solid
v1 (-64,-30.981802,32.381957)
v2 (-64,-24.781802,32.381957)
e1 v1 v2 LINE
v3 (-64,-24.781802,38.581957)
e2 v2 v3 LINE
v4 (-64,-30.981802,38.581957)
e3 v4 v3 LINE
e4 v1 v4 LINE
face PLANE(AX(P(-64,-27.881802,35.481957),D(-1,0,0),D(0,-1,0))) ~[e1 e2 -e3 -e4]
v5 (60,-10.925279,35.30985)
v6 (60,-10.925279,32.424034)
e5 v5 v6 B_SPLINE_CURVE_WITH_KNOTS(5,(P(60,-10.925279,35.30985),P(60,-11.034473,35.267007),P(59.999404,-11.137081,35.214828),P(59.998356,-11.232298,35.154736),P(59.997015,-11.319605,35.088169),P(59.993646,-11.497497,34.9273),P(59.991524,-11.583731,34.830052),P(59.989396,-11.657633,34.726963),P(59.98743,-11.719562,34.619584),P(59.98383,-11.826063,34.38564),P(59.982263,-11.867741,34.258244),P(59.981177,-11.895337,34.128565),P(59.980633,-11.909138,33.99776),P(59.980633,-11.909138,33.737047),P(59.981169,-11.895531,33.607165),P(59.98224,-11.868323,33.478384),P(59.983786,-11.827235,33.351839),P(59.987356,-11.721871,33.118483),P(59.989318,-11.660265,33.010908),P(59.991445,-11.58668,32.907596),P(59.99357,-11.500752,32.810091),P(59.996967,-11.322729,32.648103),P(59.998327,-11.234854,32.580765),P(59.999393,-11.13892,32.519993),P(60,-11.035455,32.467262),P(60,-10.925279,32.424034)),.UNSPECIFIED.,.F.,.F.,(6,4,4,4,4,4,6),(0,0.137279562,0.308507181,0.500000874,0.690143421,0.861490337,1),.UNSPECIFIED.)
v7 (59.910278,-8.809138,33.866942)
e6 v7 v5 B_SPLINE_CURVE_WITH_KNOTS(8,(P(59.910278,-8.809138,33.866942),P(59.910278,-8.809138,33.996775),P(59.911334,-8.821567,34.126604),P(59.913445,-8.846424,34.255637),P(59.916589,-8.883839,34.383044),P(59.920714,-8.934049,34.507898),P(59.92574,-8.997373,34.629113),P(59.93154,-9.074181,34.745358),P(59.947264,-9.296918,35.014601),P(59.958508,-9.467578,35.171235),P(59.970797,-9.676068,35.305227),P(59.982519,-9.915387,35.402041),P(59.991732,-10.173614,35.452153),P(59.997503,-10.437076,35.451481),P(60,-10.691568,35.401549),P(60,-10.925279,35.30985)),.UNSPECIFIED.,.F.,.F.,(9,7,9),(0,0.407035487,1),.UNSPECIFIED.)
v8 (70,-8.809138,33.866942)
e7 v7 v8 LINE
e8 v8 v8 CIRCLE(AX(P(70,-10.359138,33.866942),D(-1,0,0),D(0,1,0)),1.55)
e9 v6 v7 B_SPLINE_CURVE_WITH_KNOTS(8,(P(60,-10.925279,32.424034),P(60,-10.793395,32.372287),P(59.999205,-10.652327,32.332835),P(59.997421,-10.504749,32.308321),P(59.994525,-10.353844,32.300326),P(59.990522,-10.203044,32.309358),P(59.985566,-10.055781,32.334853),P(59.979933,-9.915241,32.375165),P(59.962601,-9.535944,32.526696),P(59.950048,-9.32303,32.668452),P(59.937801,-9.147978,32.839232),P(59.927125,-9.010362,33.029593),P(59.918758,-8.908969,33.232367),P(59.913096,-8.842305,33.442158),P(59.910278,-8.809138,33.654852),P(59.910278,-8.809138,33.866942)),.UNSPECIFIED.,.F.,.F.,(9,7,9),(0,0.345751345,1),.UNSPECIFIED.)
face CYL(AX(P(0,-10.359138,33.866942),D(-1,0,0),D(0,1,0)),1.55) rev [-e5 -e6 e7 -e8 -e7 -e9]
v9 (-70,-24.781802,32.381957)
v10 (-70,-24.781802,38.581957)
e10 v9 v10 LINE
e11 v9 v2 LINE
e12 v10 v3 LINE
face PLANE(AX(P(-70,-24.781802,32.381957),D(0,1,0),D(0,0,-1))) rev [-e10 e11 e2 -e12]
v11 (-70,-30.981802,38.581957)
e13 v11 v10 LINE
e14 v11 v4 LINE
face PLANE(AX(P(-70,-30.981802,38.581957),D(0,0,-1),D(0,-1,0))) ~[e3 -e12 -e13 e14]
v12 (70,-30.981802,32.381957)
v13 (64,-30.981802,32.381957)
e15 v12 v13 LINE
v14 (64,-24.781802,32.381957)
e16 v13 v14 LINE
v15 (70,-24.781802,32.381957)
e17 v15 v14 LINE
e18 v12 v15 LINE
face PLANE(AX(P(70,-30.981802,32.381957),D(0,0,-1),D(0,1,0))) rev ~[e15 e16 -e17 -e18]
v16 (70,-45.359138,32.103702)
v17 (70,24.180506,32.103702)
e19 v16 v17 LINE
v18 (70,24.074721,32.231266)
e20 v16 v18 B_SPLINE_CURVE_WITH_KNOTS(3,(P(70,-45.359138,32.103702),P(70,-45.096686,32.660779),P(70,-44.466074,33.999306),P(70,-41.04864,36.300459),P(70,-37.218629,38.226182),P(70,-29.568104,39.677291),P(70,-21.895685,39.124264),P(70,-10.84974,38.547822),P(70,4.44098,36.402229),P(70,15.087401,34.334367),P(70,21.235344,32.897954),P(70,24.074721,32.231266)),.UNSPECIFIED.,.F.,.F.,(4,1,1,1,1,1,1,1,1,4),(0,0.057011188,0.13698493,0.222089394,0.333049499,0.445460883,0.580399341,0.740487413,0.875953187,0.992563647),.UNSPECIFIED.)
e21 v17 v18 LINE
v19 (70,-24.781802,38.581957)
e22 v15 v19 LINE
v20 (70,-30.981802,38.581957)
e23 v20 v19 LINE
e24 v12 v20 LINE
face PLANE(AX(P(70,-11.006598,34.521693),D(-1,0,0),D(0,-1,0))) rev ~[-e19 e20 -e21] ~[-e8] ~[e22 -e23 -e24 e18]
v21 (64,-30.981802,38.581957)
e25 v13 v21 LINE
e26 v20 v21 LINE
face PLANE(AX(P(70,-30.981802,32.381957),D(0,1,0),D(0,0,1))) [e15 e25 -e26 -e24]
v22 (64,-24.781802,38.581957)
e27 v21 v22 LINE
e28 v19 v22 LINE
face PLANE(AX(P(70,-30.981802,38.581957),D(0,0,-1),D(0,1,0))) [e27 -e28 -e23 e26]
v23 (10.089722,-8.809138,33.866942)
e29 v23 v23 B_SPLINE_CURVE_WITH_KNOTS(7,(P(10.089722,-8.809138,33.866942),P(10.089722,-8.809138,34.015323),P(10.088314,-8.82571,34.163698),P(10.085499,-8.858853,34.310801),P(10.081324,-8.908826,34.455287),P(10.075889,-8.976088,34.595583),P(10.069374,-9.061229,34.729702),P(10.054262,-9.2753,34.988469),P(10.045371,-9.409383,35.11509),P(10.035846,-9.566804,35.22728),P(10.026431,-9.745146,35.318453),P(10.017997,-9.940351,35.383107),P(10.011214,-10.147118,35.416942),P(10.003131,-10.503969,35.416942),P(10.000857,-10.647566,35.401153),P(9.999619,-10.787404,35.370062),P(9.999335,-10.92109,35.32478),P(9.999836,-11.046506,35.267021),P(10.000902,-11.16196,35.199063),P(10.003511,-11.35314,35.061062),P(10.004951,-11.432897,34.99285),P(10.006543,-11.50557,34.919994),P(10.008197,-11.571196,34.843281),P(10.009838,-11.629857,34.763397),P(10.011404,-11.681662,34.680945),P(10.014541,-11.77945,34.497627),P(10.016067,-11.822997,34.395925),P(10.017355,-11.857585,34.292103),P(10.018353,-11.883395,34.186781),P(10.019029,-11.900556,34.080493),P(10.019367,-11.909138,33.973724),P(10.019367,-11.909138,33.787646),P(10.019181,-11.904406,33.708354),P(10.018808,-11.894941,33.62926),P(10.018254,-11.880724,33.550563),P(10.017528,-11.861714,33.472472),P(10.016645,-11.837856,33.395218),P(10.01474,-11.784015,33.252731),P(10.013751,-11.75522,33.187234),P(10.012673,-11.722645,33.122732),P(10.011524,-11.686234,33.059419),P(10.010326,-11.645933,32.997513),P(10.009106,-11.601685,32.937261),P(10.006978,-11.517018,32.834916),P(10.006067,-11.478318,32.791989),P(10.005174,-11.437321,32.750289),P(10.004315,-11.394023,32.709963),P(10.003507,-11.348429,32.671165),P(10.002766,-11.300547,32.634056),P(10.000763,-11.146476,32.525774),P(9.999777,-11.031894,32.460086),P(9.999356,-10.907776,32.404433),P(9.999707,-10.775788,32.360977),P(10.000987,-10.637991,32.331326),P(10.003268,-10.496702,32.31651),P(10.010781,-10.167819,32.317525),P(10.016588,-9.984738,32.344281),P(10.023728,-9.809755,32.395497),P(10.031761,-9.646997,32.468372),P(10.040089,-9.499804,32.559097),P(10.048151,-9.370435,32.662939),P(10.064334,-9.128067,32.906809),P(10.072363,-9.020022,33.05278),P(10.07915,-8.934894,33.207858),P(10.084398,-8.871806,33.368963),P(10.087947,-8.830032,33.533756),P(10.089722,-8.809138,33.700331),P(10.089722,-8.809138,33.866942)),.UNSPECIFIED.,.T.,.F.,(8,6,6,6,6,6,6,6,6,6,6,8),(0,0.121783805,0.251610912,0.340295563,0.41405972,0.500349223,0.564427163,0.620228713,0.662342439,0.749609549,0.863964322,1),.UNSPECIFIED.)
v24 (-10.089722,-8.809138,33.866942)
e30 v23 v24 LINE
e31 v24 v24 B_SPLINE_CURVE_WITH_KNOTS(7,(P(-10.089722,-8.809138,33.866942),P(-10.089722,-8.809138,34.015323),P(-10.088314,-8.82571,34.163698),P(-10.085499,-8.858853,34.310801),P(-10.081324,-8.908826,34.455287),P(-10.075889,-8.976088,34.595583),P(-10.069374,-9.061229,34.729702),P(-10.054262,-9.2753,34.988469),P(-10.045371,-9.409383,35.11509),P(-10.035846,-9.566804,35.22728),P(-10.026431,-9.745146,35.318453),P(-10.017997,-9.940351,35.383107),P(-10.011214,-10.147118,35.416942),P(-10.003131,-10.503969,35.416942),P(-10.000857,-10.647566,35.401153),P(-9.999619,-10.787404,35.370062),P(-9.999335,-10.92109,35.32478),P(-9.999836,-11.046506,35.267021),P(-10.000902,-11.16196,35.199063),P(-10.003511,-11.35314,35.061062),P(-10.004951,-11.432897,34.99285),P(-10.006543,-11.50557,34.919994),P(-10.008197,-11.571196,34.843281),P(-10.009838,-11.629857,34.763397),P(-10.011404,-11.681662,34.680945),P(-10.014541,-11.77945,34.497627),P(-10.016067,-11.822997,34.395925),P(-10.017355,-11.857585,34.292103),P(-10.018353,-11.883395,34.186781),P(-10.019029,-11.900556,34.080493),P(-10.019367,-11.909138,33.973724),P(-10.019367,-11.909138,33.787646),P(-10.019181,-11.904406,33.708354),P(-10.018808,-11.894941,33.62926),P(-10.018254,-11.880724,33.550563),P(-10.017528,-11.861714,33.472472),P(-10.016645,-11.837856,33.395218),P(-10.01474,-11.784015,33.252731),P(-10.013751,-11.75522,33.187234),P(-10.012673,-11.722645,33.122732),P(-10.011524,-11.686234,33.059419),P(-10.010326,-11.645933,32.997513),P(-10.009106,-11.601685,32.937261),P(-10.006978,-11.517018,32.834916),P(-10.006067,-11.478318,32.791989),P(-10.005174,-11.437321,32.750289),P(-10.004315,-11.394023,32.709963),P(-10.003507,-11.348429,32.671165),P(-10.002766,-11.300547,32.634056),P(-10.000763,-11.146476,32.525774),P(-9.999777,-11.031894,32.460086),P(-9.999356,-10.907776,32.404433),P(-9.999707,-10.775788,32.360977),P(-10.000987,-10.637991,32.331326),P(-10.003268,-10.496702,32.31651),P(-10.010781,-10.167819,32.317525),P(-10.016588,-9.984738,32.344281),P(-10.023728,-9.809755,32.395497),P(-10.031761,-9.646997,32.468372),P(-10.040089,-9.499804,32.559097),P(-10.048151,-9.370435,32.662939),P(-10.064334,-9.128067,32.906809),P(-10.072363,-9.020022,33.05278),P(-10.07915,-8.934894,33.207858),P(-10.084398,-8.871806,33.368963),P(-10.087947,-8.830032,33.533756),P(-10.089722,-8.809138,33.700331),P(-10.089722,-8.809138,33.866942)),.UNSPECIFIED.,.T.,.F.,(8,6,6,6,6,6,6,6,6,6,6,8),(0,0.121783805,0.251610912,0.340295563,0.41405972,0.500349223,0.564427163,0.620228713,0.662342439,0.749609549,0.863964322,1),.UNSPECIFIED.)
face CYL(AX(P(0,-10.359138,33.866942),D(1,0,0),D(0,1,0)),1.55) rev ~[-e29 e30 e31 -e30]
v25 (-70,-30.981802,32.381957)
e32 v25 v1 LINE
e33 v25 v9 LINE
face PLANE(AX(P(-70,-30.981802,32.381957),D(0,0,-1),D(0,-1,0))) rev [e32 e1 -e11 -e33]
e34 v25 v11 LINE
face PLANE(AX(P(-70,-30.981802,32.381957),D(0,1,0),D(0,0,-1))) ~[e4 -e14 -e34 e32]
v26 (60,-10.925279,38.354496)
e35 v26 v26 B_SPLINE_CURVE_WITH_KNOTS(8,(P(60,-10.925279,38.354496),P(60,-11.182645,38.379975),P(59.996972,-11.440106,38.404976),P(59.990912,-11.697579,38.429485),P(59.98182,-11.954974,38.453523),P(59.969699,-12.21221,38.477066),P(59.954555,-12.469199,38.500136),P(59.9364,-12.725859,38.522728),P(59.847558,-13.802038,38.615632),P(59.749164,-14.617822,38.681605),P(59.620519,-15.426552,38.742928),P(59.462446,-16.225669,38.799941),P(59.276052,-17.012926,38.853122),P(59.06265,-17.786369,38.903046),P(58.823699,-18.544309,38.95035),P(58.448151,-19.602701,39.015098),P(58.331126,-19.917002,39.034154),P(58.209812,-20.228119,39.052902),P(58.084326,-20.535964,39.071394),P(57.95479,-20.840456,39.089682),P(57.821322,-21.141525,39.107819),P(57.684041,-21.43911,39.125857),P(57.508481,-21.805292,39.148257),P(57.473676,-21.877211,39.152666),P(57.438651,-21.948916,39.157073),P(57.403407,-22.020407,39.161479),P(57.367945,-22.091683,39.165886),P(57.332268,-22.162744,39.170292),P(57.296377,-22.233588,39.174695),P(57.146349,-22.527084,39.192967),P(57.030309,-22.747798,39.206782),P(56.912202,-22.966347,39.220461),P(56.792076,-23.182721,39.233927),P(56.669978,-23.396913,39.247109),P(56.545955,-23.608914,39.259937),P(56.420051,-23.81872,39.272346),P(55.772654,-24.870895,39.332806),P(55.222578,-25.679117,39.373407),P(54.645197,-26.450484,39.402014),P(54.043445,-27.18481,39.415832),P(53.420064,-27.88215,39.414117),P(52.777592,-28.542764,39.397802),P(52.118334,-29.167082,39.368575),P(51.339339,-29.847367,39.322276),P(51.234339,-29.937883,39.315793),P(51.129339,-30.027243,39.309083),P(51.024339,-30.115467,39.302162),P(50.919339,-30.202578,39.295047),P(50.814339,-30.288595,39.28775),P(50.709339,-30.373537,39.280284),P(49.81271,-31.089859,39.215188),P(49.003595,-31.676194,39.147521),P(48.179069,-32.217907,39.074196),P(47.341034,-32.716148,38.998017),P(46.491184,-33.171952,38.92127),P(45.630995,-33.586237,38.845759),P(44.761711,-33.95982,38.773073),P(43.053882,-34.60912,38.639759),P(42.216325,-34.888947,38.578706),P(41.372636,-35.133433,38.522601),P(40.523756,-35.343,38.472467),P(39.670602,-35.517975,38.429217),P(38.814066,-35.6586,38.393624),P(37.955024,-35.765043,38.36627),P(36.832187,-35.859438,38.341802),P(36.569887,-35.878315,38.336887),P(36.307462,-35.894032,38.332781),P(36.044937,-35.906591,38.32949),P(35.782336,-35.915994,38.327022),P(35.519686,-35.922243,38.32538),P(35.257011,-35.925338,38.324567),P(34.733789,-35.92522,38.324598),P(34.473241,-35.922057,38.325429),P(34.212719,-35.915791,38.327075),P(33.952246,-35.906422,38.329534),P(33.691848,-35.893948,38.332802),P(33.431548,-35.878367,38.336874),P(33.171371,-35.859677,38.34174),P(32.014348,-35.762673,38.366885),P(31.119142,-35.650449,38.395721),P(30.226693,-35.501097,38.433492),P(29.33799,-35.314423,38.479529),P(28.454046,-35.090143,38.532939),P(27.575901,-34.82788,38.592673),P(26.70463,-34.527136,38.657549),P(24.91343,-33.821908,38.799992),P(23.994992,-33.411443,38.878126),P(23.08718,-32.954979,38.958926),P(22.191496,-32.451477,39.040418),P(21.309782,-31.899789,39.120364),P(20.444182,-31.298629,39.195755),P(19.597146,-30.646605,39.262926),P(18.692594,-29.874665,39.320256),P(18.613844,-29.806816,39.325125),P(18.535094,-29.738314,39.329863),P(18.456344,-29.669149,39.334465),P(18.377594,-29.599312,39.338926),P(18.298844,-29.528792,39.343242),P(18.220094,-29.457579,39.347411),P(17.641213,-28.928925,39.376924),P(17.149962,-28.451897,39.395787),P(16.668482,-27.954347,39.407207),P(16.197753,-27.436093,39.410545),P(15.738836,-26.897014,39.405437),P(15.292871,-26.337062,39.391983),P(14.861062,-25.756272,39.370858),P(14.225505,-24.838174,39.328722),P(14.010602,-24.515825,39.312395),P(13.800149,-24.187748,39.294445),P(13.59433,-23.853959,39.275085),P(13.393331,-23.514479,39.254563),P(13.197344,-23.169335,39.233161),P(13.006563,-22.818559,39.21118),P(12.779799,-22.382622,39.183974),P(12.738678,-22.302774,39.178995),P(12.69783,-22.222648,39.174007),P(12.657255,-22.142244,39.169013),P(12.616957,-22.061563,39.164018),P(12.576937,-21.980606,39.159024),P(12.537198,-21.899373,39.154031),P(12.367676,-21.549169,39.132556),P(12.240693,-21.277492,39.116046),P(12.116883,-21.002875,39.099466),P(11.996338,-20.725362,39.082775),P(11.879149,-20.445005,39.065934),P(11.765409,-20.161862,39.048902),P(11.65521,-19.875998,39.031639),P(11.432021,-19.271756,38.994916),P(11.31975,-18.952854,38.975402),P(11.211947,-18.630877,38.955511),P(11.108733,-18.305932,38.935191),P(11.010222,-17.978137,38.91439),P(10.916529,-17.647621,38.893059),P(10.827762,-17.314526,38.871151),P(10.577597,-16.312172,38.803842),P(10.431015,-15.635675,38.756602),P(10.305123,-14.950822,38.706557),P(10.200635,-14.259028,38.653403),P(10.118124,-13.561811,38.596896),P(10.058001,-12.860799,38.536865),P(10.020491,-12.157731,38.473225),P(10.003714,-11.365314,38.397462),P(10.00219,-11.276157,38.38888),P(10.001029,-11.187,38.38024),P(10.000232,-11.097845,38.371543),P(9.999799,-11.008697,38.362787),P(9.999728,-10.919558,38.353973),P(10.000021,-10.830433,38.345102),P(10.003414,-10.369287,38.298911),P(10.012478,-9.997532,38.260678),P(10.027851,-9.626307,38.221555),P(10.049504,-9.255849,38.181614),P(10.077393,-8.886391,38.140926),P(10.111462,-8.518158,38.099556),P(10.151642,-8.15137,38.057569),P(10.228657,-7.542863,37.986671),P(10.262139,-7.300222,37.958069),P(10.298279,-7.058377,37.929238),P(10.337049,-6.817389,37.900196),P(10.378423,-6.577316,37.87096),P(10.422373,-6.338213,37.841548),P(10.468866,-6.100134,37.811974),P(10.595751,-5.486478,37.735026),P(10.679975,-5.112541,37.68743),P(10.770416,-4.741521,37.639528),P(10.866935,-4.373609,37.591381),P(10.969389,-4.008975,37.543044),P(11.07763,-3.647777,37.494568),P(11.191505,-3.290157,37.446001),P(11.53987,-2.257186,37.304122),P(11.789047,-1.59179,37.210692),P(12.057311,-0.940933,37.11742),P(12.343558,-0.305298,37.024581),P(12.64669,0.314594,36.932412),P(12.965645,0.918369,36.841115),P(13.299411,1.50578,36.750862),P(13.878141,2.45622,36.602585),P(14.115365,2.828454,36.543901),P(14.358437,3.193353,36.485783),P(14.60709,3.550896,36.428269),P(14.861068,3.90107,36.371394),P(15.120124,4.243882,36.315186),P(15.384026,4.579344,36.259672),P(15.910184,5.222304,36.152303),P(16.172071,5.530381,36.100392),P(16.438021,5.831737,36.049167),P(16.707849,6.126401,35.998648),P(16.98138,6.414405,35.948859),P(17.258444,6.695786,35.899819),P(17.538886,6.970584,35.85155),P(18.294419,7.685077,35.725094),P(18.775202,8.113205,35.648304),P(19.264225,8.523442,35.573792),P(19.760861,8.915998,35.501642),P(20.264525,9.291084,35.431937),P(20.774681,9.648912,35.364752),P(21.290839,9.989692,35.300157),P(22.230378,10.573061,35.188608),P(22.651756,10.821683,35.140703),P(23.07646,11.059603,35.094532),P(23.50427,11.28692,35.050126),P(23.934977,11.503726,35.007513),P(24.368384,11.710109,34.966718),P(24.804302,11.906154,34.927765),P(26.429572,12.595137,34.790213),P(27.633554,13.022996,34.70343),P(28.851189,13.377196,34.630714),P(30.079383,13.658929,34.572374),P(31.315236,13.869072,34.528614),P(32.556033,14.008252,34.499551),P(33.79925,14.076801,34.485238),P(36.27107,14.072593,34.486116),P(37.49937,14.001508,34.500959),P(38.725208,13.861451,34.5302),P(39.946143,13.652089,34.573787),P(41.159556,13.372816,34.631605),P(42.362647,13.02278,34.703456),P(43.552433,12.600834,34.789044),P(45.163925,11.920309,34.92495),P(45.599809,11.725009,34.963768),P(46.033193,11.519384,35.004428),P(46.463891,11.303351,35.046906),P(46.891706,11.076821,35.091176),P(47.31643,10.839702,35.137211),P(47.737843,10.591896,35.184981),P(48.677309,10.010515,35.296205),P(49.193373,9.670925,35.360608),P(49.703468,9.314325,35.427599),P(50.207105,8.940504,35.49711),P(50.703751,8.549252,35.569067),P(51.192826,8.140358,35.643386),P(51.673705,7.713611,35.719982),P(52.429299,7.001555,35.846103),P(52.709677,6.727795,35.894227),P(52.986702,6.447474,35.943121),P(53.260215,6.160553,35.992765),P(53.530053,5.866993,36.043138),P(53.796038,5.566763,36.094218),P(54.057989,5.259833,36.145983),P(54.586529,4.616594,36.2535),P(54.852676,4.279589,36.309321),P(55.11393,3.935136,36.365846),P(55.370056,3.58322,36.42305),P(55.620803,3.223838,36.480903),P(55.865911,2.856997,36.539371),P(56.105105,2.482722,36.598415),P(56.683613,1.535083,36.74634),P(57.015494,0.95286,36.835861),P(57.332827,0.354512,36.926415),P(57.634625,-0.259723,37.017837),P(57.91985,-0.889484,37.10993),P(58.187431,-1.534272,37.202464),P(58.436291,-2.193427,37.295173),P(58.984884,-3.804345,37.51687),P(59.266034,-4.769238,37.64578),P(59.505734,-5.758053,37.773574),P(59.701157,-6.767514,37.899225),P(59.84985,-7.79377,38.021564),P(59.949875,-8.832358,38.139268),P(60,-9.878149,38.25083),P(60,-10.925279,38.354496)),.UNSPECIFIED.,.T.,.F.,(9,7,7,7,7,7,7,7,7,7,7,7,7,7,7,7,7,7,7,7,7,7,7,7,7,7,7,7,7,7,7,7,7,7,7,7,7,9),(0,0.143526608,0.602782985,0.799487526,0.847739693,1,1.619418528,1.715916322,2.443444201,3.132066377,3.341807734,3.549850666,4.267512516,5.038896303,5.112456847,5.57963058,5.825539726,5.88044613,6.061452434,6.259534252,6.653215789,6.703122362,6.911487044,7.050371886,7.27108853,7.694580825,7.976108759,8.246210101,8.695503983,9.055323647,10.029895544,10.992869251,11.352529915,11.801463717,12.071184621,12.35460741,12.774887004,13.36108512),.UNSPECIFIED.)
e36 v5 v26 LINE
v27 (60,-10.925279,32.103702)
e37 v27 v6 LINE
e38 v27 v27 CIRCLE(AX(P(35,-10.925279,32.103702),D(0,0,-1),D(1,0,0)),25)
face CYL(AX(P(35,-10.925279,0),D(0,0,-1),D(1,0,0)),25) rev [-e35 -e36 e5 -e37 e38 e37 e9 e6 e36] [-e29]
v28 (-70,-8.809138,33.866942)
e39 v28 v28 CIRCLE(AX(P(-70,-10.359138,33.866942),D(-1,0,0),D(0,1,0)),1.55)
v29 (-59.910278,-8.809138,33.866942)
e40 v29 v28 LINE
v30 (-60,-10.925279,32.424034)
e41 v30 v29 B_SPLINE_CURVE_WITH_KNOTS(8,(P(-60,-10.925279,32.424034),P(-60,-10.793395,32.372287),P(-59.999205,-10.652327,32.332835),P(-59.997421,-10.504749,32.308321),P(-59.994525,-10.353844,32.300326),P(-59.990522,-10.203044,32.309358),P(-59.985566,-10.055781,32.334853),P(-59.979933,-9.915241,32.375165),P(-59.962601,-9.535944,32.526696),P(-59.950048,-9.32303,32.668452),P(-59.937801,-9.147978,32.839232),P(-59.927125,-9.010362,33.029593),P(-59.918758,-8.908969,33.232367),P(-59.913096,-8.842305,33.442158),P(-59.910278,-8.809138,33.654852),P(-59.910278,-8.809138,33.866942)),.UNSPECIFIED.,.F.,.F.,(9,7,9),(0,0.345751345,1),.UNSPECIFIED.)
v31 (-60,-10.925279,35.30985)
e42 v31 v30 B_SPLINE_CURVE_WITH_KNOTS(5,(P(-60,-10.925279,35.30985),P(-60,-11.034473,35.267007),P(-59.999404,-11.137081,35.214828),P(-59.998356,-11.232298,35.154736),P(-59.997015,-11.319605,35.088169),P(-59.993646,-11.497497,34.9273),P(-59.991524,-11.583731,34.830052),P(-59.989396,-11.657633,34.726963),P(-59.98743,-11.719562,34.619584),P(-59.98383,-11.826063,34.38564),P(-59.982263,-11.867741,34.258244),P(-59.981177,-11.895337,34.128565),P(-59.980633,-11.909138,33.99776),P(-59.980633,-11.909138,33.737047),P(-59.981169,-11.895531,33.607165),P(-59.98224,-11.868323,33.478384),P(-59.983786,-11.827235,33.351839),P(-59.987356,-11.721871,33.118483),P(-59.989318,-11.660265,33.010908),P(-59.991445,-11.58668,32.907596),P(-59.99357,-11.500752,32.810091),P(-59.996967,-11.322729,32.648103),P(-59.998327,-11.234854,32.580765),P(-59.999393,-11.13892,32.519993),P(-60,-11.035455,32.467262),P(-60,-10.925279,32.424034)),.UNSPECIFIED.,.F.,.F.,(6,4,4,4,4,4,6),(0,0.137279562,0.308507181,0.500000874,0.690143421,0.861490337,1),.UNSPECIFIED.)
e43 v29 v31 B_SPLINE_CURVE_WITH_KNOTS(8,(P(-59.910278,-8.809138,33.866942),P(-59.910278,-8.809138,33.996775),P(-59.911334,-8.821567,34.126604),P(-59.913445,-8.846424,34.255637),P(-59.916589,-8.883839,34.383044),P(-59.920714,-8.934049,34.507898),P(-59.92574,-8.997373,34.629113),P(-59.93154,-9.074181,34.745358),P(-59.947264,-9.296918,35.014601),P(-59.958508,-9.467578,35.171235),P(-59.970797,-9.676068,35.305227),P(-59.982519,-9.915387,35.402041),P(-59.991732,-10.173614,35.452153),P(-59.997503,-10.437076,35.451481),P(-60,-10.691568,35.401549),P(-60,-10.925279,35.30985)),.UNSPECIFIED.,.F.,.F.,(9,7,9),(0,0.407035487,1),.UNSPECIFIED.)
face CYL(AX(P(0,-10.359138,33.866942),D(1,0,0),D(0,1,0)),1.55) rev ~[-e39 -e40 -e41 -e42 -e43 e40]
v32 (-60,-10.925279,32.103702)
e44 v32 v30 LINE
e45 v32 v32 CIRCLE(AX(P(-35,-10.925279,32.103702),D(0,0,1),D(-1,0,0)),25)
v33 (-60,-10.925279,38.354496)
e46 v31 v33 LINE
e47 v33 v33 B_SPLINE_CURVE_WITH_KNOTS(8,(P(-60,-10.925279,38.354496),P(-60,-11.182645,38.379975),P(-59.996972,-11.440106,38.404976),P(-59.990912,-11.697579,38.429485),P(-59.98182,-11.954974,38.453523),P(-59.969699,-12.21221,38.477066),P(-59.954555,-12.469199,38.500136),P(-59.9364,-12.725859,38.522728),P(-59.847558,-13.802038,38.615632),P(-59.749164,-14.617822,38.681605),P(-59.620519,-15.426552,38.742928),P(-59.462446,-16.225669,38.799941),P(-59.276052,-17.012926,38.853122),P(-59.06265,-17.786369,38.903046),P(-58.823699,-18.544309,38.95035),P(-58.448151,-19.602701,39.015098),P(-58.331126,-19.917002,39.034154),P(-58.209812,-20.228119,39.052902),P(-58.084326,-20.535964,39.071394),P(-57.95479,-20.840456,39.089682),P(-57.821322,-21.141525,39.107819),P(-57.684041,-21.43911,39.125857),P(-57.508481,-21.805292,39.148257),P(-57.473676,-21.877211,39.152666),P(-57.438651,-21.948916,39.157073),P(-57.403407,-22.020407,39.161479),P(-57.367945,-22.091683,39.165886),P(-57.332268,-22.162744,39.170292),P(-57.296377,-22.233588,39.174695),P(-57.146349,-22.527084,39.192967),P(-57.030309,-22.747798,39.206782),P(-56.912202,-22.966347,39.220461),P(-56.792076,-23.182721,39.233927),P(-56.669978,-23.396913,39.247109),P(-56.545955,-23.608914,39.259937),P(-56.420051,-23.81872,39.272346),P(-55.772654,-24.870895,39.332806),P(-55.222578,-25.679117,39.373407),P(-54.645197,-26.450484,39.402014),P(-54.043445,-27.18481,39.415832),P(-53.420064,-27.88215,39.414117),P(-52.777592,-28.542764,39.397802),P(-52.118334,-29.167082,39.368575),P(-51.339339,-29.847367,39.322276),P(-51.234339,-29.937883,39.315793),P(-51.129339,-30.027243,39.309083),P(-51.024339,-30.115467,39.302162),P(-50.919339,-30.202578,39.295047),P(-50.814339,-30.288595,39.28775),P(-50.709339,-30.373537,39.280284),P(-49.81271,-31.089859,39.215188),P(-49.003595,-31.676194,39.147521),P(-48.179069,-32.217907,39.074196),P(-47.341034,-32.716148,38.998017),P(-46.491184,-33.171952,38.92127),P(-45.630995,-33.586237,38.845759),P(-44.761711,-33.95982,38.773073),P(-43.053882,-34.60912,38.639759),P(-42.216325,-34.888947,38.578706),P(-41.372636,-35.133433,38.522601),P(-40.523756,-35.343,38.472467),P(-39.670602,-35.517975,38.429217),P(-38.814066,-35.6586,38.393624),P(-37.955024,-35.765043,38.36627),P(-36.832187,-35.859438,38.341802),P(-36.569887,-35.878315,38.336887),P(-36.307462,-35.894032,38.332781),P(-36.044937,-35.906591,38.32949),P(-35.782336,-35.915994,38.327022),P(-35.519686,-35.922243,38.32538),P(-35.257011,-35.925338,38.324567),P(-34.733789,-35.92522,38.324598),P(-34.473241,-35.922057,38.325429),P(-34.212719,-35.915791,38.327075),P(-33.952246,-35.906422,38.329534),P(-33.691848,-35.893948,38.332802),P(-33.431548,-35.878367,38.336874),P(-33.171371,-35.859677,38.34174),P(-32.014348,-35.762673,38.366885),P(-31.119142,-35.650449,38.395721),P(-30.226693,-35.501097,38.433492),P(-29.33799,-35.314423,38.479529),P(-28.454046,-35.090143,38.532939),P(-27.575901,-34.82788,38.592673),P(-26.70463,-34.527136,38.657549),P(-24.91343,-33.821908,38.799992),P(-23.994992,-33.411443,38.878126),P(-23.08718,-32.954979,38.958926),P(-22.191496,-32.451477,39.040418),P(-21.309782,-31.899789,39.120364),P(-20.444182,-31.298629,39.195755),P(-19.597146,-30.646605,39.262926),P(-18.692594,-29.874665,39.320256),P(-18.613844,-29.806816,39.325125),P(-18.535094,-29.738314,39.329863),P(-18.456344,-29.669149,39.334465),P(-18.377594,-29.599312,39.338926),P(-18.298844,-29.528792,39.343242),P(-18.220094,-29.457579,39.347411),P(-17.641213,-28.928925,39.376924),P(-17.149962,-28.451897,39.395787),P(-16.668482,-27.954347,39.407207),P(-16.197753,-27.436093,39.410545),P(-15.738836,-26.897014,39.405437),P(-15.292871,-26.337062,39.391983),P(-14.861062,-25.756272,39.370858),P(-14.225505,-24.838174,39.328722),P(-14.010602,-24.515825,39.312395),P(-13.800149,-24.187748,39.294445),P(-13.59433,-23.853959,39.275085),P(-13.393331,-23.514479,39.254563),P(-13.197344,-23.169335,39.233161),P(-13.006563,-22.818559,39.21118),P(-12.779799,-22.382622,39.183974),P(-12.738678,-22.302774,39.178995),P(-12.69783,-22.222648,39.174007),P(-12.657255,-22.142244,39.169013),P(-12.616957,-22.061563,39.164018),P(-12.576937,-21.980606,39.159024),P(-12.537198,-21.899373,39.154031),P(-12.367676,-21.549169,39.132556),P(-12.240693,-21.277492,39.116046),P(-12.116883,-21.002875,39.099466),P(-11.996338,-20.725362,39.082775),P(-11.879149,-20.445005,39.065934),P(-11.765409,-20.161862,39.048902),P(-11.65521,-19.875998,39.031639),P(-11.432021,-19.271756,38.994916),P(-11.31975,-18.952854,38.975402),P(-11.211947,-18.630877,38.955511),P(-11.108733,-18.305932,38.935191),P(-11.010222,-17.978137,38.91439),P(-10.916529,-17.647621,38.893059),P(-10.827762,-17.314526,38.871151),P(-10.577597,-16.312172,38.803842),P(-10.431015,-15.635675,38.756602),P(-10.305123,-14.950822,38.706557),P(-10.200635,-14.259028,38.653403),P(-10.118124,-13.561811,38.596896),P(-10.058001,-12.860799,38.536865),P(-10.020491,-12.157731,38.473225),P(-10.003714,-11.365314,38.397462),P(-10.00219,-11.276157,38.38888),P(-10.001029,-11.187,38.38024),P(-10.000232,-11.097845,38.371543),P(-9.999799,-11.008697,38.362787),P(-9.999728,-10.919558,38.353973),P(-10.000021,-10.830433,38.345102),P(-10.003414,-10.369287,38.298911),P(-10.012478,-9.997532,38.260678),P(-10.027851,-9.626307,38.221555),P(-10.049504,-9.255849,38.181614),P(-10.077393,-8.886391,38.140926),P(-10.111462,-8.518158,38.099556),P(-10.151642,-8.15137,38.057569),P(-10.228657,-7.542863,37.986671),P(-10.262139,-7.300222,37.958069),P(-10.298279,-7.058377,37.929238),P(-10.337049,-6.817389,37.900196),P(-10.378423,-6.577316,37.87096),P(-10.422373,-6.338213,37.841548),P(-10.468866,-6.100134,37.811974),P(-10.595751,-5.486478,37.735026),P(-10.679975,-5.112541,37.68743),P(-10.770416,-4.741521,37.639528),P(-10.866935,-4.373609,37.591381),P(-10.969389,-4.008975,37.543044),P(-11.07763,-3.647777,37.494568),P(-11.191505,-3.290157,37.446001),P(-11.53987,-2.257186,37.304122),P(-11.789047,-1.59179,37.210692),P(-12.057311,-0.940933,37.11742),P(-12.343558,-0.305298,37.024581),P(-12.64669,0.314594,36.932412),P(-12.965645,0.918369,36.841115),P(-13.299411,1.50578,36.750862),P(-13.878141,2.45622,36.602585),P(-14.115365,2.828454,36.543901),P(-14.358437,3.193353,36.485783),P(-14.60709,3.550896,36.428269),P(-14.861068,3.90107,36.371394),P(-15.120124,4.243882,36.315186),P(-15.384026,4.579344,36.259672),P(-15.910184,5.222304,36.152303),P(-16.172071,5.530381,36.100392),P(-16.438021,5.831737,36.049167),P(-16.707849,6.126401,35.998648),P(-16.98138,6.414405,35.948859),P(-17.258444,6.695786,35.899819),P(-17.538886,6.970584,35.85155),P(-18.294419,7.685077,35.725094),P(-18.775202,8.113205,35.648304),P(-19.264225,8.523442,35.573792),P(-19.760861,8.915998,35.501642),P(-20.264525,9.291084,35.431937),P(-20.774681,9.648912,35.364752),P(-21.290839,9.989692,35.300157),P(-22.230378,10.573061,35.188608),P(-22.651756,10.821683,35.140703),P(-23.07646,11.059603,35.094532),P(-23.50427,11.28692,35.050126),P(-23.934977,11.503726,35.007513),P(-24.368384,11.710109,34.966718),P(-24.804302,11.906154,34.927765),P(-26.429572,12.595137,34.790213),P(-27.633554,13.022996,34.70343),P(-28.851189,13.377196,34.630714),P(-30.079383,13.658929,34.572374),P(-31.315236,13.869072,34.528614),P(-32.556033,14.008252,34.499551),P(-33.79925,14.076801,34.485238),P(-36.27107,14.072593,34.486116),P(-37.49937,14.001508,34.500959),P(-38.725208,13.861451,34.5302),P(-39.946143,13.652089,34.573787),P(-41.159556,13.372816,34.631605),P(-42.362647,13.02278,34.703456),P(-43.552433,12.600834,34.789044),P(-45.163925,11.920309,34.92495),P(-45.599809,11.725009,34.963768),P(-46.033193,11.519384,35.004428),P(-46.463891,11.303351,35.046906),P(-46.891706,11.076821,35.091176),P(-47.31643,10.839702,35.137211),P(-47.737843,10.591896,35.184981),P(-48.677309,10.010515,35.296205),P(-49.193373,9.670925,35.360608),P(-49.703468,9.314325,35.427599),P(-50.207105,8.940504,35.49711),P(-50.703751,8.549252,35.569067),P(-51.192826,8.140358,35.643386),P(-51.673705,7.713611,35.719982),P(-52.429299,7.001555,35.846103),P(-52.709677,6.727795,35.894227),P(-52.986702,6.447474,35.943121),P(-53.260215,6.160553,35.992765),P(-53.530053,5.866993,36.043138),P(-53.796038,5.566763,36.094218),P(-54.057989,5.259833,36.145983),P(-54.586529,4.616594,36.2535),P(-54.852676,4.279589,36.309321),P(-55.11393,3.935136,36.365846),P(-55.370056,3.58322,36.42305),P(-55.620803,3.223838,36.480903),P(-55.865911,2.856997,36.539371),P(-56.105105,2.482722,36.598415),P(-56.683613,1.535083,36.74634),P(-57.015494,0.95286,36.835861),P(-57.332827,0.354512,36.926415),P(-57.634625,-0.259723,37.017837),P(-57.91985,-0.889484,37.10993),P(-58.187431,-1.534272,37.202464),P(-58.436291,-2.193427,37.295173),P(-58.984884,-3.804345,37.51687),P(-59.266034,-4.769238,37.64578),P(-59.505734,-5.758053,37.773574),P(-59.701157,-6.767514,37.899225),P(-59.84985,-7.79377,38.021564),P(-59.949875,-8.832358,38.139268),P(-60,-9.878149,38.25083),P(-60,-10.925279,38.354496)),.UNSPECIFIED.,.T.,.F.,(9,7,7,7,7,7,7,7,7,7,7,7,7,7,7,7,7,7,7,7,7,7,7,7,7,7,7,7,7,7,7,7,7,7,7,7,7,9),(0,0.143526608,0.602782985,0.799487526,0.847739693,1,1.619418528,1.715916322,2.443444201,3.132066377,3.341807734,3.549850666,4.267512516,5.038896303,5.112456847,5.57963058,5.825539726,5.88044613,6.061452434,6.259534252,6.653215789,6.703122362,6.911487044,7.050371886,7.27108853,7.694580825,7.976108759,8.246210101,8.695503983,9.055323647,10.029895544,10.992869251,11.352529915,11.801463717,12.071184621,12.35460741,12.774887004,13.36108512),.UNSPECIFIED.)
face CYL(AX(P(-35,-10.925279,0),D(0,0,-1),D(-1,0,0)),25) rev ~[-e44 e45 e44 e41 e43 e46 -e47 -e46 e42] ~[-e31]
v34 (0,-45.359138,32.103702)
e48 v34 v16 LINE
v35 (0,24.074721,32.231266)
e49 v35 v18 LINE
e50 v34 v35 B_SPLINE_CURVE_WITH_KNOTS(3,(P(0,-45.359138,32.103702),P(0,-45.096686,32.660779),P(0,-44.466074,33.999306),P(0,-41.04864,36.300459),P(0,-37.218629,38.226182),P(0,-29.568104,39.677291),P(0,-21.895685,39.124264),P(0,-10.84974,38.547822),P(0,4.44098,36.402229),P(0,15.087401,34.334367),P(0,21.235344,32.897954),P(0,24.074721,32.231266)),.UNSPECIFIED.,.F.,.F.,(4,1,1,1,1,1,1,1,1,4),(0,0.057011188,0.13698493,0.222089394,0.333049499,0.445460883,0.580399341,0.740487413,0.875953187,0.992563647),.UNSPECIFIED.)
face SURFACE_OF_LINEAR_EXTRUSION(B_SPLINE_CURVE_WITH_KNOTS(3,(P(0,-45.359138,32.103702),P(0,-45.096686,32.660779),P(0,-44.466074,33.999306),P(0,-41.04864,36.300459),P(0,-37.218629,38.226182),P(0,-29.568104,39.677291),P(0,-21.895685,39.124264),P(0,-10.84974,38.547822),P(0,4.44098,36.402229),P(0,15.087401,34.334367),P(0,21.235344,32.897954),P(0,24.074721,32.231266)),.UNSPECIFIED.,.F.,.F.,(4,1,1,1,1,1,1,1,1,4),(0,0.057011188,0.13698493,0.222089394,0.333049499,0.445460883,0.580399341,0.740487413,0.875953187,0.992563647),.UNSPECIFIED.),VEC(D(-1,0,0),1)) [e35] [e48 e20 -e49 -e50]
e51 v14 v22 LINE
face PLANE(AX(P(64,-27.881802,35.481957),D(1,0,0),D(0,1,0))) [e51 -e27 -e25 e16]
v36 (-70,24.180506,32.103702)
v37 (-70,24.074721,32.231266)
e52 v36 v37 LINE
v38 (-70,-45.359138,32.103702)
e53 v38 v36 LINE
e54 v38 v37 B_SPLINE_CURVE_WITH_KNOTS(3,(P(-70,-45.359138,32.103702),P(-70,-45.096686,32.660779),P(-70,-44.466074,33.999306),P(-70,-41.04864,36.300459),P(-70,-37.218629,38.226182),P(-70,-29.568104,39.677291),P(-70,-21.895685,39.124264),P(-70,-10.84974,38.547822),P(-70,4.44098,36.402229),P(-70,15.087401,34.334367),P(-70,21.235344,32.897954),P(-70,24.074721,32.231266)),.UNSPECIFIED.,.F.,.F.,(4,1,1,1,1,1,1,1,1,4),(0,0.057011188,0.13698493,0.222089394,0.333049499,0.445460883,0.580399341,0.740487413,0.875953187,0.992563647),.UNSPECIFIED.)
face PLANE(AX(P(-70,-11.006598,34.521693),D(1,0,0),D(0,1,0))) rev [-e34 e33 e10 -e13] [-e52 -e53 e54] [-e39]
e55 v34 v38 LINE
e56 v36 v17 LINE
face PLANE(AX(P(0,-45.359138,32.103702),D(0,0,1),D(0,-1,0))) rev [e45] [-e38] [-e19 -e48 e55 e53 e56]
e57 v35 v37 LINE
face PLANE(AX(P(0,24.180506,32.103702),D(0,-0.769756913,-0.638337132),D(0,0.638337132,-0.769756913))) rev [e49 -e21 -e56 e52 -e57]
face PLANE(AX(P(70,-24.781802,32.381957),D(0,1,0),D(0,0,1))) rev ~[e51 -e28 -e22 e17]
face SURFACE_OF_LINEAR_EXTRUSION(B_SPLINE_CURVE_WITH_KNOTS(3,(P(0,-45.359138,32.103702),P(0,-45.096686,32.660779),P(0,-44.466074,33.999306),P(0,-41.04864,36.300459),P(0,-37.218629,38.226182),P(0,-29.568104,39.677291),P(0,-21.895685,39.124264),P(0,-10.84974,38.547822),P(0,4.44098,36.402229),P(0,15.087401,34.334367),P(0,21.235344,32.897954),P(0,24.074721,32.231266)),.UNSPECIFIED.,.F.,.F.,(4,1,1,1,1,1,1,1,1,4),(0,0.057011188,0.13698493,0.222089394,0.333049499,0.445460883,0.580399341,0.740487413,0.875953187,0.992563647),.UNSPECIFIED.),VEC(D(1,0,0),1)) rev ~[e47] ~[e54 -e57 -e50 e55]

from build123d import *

# Parameters (mm, degrees)
F1_DEPTH = 70
F2_R     = 25
F3_DEPTH = 72.1
F4_W     = 6.2
F4_H     = 6.2
F5_DEPTH = 6
F6_R     = 1.55
F7_DEPTH = 77.3


with BuildPart() as f1:
    # F0 (on Right) → F1 (new body)
    with BuildSketch(Plane.YZ):
        with BuildLine():
            add(Edge.make_bspline(
                [(-45.3591383994, 32.103702426), (-45.0966863192, 32.6607785037), (-44.4660736082, 33.9993057329), (-41.0486395915, 36.3004592483), (-37.2186294202, 38.2261823582), (-29.568104066, 39.6772911596), (-21.8956854277, 39.124264393), (-10.8497397533, 38.5478221436), (4.4409795688, 36.4022293949), (15.0874011175, 34.3343670991), (21.2353436843, 32.8979539072), (24.07472083, 32.2312661607)],
                knots=[0, 0, 0, 0, 0.0570111878, 0.1369849296, 0.2220893944, 0.3330494993, 0.445460883, 0.5803993408, 0.7404874129, 0.8759531867, 0.992563647, 0.992563647, 0.992563647, 0.992563647], degree=3))
            Line((-45.3591383994, 32.103702426), (24.1805057436, 32.103702426))
            Line((24.1805057436, 32.103702426), (24.07472083, 32.2312661607))
        make_face()
    extrude(amount=F1_DEPTH)

    # F2 (on Top) → F3 (cut)
    with BuildSketch(Plane.XY):
        with Locations((35, -10.92527917)):
            Circle(F2_R)
    extrude(amount=F3_DEPTH, mode=Mode.SUBTRACT)

    # F4 (on face) → F5 (cut)
    with BuildSketch(Plane.YZ.offset(70)):
        with Locations((-27.8818023294, 35.4819565177)):
            Rectangle(F4_W, F4_H)
    extrude(amount=-F5_DEPTH, mode=Mode.SUBTRACT)

    # F6 (on Right) → F7 (cut)
    with BuildSketch(Plane.YZ):
        with Locations((-10.3591383994, 33.8669419289)):
            Circle(F6_R)
    extrude(amount=F7_DEPTH, mode=Mode.SUBTRACT)

    # F8: F1 across plane


with BuildPart() as f1_1:
    add(f1.part)
    add(f1.part.mirror(Plane.YZ))


solid = f1_1.part
